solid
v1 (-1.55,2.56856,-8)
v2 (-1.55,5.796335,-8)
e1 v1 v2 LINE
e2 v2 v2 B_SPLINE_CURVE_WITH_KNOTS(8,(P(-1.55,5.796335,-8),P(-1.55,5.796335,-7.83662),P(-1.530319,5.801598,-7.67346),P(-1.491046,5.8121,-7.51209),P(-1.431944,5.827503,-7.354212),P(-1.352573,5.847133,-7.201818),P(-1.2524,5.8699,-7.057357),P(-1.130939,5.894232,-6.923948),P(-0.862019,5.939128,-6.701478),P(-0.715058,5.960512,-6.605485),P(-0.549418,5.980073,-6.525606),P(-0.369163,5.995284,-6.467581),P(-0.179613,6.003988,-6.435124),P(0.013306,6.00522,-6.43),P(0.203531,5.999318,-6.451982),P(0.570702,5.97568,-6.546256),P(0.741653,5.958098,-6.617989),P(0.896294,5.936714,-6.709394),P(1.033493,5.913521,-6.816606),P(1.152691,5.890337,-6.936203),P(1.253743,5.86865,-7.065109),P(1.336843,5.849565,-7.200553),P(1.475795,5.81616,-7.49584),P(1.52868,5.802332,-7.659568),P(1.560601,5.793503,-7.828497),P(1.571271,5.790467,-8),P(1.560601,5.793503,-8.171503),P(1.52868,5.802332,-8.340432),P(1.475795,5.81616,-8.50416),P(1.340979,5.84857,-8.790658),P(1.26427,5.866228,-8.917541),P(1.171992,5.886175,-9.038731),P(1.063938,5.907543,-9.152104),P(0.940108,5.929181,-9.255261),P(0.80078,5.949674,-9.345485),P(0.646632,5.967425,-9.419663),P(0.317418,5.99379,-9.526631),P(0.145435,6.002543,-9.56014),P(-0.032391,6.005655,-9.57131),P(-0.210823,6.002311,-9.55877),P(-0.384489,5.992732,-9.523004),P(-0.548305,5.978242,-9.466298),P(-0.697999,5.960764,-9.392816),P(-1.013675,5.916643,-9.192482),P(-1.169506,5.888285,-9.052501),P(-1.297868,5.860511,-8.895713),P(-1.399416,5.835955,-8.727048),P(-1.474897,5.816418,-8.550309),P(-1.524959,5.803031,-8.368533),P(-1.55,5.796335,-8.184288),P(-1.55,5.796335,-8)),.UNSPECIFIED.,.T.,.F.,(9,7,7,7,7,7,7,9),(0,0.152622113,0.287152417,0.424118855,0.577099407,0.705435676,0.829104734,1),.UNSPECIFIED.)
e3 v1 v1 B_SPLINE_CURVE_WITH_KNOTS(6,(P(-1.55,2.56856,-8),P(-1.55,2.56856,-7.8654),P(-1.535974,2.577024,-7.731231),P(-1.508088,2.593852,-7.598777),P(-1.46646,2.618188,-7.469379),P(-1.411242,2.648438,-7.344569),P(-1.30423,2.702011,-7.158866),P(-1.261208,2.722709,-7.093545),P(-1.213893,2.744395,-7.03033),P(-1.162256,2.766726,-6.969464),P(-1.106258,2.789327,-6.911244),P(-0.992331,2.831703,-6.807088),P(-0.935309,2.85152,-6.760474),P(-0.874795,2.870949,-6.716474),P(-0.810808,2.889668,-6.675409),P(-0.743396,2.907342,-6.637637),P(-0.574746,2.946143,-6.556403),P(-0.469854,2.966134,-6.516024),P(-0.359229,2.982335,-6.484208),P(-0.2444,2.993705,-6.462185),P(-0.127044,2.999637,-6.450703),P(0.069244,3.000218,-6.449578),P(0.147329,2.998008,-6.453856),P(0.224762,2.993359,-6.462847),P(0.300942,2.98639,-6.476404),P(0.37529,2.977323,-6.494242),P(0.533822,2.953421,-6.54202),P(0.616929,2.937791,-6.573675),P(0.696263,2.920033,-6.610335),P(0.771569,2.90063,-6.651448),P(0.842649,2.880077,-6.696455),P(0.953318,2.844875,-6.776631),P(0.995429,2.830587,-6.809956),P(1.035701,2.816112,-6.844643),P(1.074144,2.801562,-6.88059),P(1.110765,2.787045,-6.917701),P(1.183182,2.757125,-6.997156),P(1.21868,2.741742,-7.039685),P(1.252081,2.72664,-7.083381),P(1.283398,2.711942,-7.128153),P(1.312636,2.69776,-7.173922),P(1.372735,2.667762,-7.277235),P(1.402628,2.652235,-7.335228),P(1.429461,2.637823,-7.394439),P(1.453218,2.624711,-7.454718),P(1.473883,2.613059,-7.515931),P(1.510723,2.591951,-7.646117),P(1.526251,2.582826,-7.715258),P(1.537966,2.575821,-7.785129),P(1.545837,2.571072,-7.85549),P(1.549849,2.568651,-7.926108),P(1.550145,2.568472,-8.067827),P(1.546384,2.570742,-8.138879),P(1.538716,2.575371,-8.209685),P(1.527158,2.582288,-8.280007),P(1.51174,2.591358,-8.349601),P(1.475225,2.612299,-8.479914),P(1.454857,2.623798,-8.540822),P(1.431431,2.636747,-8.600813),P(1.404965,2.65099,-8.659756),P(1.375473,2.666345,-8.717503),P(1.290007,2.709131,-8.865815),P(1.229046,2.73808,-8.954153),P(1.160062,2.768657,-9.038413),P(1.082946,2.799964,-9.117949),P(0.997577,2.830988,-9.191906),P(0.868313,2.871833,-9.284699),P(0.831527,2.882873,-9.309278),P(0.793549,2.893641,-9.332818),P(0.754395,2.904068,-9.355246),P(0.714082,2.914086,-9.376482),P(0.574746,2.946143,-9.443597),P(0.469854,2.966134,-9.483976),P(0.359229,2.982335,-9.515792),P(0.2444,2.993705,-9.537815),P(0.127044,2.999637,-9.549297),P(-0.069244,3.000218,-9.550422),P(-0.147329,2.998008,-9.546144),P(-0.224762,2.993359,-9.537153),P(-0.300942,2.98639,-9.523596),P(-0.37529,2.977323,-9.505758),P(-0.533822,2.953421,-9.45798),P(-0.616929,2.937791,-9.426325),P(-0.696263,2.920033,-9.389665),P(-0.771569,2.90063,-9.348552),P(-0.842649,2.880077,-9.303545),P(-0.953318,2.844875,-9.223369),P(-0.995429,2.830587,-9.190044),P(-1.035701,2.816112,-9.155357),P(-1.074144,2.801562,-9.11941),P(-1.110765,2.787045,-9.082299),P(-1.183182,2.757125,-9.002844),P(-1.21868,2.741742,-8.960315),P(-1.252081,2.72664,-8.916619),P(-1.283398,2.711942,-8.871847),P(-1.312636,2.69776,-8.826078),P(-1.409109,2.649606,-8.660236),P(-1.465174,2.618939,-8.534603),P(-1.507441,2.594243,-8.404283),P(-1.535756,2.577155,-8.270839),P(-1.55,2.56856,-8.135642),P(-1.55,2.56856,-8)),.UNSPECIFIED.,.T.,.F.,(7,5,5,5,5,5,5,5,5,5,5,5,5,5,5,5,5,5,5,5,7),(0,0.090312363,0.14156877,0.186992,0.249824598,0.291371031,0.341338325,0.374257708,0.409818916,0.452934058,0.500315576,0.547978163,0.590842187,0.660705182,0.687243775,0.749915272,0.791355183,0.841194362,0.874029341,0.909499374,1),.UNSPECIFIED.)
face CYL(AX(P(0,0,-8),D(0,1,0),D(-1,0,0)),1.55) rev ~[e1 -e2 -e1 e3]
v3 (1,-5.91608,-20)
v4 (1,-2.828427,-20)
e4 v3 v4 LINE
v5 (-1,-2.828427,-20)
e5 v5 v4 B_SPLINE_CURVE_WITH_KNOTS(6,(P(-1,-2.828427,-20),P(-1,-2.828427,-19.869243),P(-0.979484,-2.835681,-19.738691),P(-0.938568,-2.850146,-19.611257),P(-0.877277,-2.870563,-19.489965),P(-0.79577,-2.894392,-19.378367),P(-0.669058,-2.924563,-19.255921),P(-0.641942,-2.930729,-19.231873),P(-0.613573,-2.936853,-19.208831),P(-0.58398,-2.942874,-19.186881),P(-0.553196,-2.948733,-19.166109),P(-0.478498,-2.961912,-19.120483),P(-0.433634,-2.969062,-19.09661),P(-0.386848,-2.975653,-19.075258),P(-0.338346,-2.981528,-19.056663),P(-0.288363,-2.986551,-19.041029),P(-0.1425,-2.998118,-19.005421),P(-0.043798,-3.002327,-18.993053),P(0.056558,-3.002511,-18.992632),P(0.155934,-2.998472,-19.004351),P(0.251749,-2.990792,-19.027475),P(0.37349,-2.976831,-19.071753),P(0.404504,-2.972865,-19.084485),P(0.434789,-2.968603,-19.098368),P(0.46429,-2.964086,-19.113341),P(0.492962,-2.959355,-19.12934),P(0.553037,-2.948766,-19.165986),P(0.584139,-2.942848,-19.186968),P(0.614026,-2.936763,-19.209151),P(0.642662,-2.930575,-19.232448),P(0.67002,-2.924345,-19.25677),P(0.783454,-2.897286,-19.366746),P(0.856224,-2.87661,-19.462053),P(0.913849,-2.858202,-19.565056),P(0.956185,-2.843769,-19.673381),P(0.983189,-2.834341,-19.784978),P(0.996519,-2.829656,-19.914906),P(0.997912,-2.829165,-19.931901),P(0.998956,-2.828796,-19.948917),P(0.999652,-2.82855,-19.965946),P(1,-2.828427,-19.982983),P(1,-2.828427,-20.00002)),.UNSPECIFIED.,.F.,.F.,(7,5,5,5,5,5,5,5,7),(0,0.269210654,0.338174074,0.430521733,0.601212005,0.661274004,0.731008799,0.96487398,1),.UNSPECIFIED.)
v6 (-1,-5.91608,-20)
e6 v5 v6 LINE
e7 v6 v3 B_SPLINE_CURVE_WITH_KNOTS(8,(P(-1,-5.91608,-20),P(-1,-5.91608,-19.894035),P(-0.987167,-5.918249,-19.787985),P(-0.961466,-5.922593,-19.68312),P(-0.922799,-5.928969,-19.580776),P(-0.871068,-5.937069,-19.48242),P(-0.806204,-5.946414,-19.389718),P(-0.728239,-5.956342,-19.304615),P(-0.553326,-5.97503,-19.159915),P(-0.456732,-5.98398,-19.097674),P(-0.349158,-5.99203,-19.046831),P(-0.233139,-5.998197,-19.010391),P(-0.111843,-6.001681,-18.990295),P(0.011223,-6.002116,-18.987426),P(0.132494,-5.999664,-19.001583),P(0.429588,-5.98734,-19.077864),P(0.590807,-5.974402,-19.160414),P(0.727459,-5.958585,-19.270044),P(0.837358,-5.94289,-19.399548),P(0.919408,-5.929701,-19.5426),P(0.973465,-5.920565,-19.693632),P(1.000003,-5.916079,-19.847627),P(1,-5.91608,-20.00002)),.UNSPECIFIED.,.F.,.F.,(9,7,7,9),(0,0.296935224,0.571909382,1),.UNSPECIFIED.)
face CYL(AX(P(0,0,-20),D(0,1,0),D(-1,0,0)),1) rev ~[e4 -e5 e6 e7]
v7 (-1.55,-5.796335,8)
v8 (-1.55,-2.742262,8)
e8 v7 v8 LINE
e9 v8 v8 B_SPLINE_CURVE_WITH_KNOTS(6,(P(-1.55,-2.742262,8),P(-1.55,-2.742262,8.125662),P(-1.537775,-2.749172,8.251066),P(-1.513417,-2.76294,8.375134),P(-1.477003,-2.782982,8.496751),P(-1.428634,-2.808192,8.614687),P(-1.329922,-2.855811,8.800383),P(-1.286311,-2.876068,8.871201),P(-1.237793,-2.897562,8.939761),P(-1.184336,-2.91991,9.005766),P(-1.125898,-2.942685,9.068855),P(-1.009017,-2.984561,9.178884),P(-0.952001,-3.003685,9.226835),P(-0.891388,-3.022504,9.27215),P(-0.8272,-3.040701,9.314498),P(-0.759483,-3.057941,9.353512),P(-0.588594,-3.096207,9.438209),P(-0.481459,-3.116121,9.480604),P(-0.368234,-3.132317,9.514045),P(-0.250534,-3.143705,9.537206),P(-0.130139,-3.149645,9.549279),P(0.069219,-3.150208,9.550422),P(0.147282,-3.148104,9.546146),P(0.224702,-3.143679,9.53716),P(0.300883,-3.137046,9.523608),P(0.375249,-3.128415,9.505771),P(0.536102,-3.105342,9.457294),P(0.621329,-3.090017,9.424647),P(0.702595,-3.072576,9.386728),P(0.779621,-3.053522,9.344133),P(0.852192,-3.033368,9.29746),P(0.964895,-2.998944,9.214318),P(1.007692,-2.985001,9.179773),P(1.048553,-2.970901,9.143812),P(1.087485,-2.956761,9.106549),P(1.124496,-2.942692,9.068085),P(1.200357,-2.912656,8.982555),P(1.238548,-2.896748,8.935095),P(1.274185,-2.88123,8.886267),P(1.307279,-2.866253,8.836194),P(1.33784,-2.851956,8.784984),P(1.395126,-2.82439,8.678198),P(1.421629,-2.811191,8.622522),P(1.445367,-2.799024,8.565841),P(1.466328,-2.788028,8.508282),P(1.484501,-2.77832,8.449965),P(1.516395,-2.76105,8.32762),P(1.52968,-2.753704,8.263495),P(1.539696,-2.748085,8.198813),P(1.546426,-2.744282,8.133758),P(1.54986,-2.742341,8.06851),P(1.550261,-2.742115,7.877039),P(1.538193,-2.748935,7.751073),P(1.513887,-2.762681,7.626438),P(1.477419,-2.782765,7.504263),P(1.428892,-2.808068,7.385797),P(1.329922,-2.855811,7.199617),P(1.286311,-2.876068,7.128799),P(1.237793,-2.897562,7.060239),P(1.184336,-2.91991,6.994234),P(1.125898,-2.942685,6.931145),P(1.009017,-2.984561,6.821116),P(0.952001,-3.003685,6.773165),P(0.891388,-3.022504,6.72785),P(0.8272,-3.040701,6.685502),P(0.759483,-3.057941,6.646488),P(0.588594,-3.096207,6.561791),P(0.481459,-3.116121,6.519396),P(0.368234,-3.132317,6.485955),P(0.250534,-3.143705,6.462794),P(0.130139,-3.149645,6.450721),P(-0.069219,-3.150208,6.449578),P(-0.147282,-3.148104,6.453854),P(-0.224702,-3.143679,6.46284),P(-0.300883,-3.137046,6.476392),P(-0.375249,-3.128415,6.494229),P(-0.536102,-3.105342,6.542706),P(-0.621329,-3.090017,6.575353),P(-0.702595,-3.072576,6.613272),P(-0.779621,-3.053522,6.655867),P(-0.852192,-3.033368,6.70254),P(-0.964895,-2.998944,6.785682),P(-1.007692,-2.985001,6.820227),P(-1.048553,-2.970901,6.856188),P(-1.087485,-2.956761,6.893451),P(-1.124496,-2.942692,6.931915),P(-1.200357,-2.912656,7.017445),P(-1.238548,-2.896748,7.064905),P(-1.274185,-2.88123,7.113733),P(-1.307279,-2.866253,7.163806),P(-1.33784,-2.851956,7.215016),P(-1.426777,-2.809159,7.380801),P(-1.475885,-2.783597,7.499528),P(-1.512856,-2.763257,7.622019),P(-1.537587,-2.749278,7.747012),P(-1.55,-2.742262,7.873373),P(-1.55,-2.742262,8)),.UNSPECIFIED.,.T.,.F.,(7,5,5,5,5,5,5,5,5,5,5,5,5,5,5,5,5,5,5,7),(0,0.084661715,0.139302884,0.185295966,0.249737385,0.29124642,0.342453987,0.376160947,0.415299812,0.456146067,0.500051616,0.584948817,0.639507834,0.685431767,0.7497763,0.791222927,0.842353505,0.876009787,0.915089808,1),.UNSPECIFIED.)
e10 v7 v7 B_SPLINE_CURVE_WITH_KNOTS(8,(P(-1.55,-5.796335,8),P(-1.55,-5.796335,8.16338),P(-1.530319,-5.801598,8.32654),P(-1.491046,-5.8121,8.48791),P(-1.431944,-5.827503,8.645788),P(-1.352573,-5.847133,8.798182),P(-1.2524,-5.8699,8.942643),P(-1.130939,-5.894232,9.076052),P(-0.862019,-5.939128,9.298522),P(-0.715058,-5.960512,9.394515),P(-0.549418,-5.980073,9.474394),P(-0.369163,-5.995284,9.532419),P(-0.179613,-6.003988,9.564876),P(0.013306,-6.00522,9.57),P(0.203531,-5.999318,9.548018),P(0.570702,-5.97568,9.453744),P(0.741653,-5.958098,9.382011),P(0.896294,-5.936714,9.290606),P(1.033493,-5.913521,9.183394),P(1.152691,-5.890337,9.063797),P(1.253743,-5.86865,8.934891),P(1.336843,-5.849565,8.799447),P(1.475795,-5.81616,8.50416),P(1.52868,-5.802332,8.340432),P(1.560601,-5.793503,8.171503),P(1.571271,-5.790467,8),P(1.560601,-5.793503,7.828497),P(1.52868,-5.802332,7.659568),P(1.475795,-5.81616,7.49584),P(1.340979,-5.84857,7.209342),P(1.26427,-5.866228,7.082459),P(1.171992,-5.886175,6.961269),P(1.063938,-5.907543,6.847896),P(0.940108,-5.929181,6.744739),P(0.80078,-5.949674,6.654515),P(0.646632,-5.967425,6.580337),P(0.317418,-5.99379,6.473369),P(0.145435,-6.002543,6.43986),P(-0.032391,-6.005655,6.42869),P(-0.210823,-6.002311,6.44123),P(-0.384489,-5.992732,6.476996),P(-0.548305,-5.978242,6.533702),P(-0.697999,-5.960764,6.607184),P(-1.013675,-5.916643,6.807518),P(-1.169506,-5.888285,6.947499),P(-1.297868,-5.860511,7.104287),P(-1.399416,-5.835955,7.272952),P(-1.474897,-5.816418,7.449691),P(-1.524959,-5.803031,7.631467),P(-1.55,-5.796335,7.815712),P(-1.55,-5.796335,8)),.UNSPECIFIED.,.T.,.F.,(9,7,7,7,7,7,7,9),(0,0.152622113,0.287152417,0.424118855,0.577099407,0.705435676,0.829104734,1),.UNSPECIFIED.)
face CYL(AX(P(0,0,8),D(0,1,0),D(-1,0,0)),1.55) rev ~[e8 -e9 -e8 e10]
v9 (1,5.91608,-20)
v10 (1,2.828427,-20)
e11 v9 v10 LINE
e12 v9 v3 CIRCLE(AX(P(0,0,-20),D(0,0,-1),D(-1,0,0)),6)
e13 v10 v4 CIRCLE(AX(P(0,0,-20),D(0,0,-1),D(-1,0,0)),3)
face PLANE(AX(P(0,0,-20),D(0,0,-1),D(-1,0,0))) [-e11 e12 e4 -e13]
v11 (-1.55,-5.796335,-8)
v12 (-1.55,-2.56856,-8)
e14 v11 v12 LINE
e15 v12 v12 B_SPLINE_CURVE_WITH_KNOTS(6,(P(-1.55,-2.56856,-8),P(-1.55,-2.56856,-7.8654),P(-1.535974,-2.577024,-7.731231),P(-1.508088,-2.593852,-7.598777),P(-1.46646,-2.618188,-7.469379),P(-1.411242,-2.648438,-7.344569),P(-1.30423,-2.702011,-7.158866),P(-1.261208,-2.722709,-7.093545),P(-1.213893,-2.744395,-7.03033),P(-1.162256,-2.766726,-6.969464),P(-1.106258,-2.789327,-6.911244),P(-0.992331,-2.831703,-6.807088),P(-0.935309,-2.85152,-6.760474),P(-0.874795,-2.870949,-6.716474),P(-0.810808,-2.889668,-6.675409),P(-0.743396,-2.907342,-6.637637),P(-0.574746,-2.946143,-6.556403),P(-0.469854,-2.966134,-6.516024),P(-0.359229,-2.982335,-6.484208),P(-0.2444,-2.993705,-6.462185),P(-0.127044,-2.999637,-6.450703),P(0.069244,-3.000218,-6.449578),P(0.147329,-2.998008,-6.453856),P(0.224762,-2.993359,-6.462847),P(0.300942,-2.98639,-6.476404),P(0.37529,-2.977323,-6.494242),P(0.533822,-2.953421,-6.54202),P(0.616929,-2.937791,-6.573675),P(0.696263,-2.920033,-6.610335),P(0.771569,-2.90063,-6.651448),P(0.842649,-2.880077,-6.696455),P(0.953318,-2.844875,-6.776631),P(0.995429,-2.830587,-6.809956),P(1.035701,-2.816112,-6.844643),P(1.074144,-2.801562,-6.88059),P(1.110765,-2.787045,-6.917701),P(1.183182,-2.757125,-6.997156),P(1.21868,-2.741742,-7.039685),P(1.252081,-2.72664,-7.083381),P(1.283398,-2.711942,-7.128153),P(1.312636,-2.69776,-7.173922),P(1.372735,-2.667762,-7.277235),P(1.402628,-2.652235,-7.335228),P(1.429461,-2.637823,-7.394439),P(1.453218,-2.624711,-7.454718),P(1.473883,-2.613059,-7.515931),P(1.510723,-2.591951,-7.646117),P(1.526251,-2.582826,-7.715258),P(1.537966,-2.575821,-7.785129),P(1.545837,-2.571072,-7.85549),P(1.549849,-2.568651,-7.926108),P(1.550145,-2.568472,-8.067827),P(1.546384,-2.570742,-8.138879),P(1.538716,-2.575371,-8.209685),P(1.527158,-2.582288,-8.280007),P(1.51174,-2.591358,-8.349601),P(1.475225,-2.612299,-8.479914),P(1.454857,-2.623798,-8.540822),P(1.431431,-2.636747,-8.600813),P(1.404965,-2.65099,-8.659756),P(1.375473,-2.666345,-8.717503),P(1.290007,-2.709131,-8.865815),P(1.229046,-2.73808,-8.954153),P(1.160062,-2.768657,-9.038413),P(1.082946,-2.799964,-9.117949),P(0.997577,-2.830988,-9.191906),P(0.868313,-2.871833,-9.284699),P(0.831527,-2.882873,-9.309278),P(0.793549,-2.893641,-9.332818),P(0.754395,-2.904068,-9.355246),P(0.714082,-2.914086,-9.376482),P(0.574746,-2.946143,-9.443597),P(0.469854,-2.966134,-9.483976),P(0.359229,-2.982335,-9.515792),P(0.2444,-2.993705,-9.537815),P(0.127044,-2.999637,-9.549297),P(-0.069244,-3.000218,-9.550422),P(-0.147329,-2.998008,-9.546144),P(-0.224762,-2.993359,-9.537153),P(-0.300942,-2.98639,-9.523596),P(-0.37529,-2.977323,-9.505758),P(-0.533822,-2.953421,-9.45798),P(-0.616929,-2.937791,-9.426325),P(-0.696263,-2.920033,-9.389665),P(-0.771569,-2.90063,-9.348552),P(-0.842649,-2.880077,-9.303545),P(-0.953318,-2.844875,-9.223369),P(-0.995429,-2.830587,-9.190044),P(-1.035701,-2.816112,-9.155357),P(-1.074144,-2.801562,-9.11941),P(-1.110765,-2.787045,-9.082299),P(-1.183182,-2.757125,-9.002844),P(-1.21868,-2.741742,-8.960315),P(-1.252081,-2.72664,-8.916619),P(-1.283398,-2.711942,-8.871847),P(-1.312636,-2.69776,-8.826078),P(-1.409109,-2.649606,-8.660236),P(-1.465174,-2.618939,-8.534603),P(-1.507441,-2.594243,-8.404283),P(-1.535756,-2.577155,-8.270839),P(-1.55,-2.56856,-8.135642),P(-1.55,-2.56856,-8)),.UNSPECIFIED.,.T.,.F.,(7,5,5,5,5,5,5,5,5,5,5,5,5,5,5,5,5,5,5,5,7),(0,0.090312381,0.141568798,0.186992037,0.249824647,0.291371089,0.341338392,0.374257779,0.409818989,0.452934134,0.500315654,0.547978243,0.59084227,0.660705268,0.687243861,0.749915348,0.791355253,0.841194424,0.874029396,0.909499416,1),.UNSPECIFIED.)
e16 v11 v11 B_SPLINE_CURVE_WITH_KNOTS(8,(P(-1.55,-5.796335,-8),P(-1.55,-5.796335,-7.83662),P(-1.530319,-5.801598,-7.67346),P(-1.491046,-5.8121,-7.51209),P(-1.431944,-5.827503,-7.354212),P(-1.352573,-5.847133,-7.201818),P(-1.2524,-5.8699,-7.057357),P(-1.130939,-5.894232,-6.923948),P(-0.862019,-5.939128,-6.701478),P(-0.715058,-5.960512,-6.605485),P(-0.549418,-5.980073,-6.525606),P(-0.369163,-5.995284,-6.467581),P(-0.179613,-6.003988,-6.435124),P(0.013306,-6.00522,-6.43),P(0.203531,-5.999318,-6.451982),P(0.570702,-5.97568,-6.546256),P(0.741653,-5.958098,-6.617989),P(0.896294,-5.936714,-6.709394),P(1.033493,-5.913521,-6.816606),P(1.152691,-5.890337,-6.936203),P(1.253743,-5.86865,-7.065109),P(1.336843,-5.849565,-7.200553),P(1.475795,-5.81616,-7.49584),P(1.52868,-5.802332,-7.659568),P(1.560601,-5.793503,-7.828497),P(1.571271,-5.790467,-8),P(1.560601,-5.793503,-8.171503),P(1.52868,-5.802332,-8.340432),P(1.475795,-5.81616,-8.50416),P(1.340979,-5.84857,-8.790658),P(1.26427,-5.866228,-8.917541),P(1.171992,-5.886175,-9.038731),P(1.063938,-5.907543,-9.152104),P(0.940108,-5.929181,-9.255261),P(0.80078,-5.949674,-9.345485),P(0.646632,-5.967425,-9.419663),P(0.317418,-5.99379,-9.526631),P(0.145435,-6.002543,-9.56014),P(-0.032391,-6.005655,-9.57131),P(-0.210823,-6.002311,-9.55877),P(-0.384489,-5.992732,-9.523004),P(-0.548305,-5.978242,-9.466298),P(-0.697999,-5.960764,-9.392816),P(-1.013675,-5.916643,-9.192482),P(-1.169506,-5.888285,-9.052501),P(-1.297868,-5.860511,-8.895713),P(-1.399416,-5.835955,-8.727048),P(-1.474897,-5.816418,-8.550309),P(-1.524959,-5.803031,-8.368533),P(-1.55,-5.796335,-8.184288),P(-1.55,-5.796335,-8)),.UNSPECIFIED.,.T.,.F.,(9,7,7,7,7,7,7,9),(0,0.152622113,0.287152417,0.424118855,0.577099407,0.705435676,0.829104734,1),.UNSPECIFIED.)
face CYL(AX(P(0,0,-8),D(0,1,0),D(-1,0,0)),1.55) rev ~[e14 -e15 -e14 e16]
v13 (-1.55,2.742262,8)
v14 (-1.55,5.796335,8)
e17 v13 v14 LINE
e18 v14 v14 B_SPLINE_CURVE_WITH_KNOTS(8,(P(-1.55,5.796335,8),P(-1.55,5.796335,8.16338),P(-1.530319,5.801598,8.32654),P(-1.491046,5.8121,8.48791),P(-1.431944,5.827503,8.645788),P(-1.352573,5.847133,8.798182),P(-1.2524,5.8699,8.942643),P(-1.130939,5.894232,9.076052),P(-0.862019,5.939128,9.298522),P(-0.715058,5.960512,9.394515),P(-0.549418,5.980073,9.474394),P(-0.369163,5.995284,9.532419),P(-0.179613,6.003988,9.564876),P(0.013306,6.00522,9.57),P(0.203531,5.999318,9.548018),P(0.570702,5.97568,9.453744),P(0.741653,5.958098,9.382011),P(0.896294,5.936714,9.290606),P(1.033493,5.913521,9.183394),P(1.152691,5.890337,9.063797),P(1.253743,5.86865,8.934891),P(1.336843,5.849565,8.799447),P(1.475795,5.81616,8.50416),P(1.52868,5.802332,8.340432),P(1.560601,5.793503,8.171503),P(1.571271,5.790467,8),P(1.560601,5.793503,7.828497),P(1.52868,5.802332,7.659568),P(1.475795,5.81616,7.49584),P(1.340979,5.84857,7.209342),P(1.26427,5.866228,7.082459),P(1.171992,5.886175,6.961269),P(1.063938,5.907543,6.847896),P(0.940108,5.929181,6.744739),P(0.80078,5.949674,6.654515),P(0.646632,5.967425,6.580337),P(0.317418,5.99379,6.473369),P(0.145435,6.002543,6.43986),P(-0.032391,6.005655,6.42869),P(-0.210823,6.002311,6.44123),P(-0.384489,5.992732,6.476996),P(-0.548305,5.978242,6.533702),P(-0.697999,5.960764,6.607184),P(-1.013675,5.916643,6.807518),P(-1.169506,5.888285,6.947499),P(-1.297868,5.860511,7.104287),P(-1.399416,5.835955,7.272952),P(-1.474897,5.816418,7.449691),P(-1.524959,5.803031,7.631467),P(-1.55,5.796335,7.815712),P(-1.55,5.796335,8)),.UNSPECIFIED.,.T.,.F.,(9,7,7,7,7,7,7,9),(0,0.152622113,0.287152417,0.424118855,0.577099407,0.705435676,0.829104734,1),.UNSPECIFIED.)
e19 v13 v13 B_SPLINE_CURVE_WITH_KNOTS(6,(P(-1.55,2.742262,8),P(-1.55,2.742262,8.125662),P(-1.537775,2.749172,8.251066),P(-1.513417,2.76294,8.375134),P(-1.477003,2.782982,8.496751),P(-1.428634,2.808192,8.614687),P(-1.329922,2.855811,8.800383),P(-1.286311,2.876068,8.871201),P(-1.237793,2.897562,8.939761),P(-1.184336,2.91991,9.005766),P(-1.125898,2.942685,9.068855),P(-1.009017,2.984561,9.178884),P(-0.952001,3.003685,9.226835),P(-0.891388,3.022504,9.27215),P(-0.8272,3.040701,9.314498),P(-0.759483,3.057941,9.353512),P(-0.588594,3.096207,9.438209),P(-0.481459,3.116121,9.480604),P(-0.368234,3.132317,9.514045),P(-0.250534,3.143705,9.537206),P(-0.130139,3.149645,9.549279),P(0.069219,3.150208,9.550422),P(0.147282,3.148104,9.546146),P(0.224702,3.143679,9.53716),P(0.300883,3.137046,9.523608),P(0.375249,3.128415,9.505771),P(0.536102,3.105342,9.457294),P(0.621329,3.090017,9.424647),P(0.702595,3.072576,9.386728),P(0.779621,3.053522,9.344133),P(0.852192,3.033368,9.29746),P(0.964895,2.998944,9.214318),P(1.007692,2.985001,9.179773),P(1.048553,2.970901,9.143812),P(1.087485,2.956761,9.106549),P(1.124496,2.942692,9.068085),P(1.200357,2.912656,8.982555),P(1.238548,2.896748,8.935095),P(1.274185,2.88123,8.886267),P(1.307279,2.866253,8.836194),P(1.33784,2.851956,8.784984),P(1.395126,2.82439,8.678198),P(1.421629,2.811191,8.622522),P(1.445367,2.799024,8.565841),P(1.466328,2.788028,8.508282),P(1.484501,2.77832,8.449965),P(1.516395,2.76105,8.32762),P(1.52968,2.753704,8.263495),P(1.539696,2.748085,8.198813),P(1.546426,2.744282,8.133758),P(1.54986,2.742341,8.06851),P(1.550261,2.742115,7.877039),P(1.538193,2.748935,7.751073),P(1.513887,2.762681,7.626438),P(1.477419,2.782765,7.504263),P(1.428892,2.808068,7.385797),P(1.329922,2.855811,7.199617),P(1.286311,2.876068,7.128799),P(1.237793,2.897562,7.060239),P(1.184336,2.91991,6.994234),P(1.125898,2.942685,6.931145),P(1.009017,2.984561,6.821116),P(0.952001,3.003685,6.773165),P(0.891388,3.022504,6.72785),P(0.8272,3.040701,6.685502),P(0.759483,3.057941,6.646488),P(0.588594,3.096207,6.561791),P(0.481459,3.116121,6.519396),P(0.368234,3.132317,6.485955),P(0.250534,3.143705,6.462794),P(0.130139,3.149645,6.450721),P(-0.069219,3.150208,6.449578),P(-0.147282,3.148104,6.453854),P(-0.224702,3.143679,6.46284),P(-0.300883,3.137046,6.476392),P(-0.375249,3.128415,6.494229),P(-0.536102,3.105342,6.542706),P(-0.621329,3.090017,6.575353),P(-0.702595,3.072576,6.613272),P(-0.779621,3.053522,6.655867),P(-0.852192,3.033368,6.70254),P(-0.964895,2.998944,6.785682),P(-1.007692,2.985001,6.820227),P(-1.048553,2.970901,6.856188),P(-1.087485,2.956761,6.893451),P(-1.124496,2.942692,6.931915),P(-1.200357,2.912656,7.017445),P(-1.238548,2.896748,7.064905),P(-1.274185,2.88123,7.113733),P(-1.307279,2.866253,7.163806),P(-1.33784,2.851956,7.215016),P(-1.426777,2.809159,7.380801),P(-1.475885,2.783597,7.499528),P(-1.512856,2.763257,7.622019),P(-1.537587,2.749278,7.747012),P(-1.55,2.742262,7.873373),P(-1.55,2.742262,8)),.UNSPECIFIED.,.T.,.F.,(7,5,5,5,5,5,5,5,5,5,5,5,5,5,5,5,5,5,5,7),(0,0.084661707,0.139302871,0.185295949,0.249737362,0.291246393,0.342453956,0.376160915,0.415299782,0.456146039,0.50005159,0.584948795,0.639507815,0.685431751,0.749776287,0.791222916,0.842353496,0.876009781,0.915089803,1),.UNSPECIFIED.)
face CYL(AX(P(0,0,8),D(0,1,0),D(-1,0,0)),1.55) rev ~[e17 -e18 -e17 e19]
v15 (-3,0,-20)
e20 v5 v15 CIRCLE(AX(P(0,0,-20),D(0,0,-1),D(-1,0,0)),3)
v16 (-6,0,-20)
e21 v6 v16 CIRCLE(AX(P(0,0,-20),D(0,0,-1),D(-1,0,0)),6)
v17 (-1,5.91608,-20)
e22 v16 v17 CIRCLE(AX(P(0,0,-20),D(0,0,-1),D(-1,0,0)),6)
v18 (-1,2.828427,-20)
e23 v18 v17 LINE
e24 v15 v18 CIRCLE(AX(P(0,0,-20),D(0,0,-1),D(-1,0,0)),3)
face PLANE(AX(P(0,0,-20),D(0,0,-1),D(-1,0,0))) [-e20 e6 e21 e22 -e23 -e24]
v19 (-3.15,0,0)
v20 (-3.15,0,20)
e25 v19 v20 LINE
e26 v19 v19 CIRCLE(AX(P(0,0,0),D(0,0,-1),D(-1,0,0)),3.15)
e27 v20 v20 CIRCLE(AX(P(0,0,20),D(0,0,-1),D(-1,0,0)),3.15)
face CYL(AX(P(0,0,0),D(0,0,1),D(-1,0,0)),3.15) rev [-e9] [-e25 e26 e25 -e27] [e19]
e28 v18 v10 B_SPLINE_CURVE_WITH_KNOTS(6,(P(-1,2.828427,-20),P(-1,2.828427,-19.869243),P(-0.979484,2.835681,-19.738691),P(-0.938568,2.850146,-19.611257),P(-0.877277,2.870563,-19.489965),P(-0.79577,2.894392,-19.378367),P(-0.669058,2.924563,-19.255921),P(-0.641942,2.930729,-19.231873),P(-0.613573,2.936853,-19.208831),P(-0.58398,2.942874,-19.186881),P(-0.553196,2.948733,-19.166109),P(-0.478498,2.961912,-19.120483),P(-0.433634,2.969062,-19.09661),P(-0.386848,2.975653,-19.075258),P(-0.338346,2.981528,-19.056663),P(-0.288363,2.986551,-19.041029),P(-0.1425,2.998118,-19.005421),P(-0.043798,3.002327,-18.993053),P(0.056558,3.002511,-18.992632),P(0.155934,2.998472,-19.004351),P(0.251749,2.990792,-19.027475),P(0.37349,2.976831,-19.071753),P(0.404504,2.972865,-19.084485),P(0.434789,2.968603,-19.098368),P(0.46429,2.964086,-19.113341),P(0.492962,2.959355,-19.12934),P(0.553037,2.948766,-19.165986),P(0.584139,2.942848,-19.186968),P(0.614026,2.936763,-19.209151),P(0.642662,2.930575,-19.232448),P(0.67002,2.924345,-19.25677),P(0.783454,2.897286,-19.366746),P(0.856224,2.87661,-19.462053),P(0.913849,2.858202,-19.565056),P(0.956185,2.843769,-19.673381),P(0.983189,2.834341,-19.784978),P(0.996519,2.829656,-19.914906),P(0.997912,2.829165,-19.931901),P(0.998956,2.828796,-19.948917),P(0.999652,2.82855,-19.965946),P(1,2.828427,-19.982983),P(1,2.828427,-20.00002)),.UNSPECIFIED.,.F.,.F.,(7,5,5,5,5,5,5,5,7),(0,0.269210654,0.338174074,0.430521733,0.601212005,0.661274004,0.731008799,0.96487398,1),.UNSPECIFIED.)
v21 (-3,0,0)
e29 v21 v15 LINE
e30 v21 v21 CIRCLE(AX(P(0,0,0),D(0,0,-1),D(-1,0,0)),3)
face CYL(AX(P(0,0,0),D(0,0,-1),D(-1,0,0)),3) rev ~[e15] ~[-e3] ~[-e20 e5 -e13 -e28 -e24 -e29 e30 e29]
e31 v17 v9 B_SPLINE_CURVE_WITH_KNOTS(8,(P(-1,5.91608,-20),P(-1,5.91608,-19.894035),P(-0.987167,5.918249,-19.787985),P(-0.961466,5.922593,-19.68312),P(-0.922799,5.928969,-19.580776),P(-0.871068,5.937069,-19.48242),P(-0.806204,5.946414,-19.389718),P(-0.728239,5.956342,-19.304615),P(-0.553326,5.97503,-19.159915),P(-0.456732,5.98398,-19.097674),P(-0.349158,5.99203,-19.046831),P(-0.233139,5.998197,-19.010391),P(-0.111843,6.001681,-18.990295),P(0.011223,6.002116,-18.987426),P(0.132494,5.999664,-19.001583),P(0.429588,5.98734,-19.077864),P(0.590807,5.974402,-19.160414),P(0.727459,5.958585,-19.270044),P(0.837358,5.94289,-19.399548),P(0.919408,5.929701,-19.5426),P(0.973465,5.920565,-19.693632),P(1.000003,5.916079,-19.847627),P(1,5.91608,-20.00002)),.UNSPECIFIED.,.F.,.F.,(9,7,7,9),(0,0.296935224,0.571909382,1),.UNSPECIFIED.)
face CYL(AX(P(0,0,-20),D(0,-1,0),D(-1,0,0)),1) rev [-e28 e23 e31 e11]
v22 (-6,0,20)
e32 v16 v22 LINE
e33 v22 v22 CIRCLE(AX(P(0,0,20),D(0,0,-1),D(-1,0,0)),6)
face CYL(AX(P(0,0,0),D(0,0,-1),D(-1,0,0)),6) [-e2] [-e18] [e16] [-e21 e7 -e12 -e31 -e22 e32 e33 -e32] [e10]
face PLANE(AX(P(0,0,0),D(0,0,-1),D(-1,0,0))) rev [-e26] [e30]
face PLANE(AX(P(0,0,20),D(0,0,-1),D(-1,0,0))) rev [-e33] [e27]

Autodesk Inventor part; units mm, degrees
ref_plane "YZ Plane" through (0, 0, 0) normal (1, 0, 0) x (0, 1, 0)
ref_plane "XZ Plane" through (0, 0, 0) normal (0, 1, 0) x (-1, 0, 0)
ref_plane "XY Plane" through (0, 0, 0) normal (0, 0, 1) x (1, 0, 0)
sketch "Sketch1" plane through (0, 0, 0) normal (0, 1, 0) x (-1, 0, 0)
  line L0 (0, 0) -> (3, 0)
  line L1 (3, 0) -> (3, -20)
  line L2 (3, -20) -> (0, -20)
  line L3 (0, -20) -> (0, 0)
  line L4 (0, 0) -> (0, -8)
  circle A0 centre (0, -8) radius 1.55
  line L5 (3, 0) -> (6, 0)
  line L6 (6, 0) -> (6, -20)
  line L7 (6, -20) -> (3, -20)
  line L8 (0, 0) -> (3.15, 0)
  line L9 (3.15, 0) -> (3.15, 20)
  line L10 (3.15, 20) -> (0, 20)
  line L11 (0, 20) -> (0, 0)
  line L12 (0, 0) -> (0, 8)
  circle A1 centre (0, 8) radius 1.55
  line L13 (3.15, 20) -> (6, 20)
  line L14 (6, 20) -> (6, 0)
  circle A2 centre (0, -20) radius 1
  dimension "d0" = 3
  dimension "d1" = 20
  dimension "d2" = 3
  dimension "d3" = 8
  dimension "d4" = 3.1
  dimension "d5" = 3
  dimension "d6" = 3.15
  dimension "d7" = 20
  dimension "d8" = 8
  dimension "d9" = 3.1
  dimension "d11" = 2
revolve "Revolution1" add sketch "Sketch1" angle 360 about axis through (0, 0, 20) along (0, 0, -1) contours L5 L6 L7 L1 | L9 L13 L14 L5
extrude "Extrusion1" cut sketch "Sketch1" along normal mid plane 20 contours A0 L3 | L3 A0 | A1 L11 | L11 A1 | A2 L3 L2 | L2 L3 A2
properties part number "shaft_to_dc_coupler"
